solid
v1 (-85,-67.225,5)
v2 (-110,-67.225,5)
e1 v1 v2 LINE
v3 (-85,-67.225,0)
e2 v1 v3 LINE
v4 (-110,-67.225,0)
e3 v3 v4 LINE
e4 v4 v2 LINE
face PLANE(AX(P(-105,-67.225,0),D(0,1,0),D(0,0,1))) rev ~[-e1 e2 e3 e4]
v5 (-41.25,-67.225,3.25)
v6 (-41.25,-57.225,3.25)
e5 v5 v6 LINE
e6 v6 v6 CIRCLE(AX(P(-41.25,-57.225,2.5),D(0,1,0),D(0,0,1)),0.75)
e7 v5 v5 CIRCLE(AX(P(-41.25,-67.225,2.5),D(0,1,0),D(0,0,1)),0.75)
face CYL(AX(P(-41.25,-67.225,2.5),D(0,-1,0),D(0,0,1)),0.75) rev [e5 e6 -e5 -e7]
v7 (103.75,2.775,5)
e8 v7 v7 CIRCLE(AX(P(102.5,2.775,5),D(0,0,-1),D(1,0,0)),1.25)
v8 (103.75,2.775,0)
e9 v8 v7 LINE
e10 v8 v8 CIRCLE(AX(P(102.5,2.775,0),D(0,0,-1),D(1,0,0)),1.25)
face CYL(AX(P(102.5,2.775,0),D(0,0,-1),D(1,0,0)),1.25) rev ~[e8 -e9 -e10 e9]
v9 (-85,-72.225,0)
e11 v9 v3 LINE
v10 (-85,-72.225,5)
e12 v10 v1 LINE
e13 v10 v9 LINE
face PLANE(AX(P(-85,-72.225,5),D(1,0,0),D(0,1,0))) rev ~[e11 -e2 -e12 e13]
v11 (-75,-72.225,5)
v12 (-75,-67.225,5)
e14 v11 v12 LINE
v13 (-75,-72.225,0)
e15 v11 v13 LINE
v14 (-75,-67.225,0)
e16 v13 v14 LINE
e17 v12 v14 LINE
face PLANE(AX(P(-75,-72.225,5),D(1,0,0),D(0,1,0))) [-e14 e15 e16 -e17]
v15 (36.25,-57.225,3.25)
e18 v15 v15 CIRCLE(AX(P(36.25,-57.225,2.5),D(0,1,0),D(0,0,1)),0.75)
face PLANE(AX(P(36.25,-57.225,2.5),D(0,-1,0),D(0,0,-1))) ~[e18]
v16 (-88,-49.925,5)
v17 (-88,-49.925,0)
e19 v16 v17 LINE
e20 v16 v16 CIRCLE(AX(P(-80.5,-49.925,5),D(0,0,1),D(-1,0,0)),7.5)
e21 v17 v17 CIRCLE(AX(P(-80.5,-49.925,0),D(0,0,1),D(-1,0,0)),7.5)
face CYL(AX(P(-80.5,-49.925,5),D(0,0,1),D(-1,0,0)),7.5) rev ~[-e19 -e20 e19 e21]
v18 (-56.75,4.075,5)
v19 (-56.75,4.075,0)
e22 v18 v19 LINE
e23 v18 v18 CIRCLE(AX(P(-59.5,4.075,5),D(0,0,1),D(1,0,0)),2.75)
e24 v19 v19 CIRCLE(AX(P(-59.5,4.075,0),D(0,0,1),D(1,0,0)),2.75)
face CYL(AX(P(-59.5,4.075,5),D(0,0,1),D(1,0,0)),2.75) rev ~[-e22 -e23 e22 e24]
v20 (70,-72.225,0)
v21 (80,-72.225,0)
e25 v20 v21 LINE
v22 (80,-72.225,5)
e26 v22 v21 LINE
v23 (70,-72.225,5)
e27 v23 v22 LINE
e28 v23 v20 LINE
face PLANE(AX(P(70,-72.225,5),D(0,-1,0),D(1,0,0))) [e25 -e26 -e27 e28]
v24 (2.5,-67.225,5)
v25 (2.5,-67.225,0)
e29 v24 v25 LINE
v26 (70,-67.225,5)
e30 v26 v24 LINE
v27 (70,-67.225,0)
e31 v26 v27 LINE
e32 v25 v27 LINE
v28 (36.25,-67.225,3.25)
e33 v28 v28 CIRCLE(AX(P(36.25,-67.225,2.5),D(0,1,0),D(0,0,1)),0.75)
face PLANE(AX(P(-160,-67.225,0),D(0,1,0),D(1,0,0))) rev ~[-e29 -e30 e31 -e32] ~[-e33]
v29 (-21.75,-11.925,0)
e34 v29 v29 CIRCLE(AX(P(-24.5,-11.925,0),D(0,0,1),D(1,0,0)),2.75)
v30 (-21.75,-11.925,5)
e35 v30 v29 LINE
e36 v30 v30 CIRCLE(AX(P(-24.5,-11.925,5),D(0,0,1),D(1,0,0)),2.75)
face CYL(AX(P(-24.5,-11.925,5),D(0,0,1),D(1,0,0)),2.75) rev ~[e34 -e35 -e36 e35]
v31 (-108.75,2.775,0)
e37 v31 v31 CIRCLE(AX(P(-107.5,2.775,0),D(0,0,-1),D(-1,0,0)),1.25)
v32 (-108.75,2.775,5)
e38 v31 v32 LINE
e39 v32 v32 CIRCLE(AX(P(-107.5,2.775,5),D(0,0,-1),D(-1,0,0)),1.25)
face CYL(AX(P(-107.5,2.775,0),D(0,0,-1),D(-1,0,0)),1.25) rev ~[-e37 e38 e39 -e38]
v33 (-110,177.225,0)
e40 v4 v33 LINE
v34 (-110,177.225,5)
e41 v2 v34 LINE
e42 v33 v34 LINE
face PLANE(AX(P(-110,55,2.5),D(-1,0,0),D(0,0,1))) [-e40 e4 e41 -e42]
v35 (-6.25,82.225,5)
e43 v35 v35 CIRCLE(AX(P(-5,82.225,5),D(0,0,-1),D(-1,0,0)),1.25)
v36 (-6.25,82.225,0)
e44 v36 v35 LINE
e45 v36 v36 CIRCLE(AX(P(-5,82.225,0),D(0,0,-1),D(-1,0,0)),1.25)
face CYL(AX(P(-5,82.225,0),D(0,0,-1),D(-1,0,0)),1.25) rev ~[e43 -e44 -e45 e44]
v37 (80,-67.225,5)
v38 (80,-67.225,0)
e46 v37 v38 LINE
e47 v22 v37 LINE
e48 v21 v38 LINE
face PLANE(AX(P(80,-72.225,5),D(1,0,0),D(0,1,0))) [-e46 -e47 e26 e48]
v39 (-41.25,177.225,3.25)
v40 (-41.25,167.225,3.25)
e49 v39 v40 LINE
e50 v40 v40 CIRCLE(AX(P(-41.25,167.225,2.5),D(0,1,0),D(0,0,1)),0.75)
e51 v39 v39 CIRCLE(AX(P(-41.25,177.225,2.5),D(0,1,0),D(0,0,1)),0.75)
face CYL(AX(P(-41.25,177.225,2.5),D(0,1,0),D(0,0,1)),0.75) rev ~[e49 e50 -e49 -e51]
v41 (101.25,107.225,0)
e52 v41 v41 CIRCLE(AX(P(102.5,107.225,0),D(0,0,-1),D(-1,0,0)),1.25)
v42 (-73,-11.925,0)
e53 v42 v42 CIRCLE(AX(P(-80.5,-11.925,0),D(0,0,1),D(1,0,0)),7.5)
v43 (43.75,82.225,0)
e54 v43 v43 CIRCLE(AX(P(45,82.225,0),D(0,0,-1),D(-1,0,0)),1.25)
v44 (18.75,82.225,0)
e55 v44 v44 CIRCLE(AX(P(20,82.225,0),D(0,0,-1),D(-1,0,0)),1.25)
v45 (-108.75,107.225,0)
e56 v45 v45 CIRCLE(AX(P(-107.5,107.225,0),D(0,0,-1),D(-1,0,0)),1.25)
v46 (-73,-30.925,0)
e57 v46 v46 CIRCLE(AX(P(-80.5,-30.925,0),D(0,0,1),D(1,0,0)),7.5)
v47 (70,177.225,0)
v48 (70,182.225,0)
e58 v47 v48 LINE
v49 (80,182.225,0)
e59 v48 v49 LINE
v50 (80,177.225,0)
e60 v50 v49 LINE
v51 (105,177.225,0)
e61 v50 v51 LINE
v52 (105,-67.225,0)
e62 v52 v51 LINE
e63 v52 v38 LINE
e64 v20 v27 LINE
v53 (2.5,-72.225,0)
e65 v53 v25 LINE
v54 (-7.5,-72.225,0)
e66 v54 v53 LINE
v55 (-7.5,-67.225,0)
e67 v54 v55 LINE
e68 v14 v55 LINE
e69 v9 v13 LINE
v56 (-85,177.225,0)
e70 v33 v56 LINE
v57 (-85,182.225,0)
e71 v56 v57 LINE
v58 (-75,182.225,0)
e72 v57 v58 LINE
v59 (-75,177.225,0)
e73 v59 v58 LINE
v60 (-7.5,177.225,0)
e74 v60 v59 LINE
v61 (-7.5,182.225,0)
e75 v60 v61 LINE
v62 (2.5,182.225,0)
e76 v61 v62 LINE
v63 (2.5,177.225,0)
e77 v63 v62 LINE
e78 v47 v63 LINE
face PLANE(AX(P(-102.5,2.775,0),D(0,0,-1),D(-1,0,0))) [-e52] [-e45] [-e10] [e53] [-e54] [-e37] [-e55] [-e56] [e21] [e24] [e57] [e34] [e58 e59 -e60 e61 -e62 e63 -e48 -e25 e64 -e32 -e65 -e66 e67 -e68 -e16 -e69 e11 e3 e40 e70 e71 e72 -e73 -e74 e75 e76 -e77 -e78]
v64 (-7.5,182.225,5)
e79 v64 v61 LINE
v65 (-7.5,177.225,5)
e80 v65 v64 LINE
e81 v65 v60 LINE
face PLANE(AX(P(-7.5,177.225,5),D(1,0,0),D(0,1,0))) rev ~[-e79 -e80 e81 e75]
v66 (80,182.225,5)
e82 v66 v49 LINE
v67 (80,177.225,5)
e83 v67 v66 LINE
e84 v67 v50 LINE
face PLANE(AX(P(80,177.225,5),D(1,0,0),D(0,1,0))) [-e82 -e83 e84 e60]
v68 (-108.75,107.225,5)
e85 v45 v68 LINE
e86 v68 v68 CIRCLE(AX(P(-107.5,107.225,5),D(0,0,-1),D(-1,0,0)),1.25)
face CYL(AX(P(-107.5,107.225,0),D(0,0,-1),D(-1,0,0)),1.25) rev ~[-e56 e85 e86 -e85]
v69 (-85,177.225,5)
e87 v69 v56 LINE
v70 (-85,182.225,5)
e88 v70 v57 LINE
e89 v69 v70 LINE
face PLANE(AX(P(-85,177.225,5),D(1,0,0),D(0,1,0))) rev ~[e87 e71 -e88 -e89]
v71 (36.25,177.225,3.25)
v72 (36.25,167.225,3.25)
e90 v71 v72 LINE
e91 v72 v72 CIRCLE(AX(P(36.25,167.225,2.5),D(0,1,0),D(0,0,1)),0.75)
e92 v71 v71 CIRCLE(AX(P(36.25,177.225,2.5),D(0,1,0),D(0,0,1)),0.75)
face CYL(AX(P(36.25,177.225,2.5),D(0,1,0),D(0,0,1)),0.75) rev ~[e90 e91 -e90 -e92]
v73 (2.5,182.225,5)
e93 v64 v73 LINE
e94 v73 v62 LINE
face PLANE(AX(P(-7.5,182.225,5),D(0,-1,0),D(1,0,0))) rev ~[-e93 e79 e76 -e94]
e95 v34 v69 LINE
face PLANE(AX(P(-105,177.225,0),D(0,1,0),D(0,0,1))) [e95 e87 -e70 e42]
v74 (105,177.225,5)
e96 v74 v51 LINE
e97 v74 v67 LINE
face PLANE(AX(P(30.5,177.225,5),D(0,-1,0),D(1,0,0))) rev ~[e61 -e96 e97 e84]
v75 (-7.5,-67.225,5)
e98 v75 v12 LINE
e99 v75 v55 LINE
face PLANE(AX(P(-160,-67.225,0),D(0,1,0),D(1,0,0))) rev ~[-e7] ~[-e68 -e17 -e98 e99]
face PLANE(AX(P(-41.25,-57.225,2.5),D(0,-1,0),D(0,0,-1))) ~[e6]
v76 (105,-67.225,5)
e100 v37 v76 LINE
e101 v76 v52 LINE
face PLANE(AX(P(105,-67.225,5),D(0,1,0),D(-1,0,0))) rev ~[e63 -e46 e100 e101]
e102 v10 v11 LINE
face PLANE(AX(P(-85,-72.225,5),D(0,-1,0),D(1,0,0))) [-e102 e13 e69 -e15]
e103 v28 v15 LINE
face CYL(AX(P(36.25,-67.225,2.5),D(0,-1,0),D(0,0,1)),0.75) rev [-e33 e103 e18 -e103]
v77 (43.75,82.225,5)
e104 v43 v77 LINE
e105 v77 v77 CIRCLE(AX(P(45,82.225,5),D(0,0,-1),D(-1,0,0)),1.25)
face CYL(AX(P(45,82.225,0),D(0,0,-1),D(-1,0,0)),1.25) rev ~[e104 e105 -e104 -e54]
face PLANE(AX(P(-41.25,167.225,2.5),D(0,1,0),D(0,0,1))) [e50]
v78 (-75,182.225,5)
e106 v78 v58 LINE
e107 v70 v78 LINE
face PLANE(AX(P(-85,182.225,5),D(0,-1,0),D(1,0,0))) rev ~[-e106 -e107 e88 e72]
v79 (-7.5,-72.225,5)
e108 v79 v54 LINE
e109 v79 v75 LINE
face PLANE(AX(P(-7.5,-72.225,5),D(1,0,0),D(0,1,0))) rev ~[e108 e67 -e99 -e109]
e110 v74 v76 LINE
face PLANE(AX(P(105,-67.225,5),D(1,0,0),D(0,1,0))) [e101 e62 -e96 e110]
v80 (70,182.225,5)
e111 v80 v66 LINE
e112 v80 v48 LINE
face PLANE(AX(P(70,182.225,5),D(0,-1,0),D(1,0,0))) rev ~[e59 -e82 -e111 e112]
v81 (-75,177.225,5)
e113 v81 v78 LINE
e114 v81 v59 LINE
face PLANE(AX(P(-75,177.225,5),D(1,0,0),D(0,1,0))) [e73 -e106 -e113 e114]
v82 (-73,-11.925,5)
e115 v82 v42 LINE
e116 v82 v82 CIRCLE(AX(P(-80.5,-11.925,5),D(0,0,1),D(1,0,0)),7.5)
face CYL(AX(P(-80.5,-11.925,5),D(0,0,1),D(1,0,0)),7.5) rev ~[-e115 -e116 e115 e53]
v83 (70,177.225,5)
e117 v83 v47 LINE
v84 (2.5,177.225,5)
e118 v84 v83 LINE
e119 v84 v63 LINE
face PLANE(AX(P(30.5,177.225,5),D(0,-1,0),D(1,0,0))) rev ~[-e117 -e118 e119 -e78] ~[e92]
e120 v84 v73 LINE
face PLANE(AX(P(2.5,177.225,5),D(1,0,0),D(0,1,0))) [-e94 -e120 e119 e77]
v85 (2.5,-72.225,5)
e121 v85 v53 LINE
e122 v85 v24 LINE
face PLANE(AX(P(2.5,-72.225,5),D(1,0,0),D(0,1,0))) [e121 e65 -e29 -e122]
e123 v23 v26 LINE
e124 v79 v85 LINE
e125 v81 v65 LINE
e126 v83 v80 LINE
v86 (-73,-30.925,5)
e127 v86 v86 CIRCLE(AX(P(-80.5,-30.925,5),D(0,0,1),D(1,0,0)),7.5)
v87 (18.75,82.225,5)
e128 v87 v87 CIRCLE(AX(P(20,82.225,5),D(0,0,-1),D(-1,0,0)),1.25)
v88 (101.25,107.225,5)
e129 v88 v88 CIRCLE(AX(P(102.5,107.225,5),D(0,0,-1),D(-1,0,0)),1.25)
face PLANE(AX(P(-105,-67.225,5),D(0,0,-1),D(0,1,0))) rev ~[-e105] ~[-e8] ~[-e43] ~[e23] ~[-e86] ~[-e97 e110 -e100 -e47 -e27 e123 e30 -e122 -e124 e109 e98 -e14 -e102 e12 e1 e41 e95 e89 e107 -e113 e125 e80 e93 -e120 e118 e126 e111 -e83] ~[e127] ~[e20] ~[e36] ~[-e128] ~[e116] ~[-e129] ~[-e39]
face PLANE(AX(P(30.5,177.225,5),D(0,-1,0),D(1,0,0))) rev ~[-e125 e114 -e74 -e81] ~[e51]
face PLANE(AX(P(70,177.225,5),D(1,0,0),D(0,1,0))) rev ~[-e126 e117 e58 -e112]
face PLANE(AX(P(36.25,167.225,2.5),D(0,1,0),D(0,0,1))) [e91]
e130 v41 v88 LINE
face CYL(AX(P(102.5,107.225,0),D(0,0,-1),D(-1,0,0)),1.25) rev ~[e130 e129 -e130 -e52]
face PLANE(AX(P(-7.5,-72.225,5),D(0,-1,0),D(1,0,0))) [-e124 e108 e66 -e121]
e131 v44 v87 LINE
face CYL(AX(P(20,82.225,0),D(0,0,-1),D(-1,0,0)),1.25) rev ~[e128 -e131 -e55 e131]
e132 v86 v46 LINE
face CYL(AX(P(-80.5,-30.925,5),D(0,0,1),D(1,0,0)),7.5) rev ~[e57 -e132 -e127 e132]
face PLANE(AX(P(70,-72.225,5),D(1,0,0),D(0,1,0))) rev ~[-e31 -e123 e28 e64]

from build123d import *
from build123d.topology import SkipClean

# Parameters (mm, degrees)
SKIZZE1_W                       = 5
SKIZZE1_H                       = 5
SKIZZE1_W_2                     = 15
AUFSATZ_LINEAR_AUSTRAGEN1_DEPTH = 5
SKIZZE2_R                       = 2.75
SCHNITT_LINEAR_AUSTRAGEN1_DEPTH = 128.539996178
SCHNITT_LINEAR_AUSTRAGEN2_DEPTH = 128.539996178
SKIZZE4_R                       = 7.5
SCHNITT_LINEAR_AUSTRAGEN3_DEPTH = 128.539996178
SKIZZE5_R                       = 0.75
SKIZZE5_R_2                     = 6
SENSORS_DEPTH                   = 128.539996178
AUFSATZ_LINEAR_AUSTRAGEN2_DEPTH = 5
SKIZZE7_R                       = 1.25
SCHNITT_LINEAR_AUSTRAGEN5_DEPTH = 239.81729549
SKETCH1_W                       = 69.5
SKETCH1_H                       = 110
BOSS_EXTRUDE1_DEPTH             = 5
SKIZZE9_R                       = 0.75
SKIZZE9_R_2                     = 6
DISCRETECHANNEL_DEPTH           = 239.81729549
SKIZZE10_R                      = 0.75
SKIZZE10_R_2                    = 6
CONTCHANNEL_DEPTH               = 239.81729549
BOSS_EXTRUDE2_DEPTH             = 5
SKIZZE8_R                       = 0.75
SKIZZE8_R_2                     = 7.5
STEPDOWNCONVERTER_DEPTH         = 239.81729549
SKETCH3_R                       = 0.75
SKETCH3_R_2                     = 5
BBB_DEPTH                       = 5
BOSS_EXTRUDE3_DEPTH             = 5
SKETCH5_W                       = 55
SKETCH5_H                       = 244.45
CUT_EXTRUDE2_DEPTH              = 5
SKETCH6_R                       = 5
CUT_EXTRUDE3_DEPTH              = 5
SKETCH7_W                       = 5
SKETCH7_H                       = 10
BOSS_EXTRUDE4_DEPTH             = 5
SKETCH8_W                       = 10
SKETCH8_H                       = 5
BOSS_EXTRUDE5_DEPTH             = 5
BOSS_EXTRUDE6_START             = -5
SKETCH9_W                       = 210
SKETCH9_H                       = 244.45
SKETCH9_R                       = 2.75
SKETCH9_R_2                     = 7.5
BOSS_EXTRUDE6_DEPTH             = 5
SKETCH10_R                      = 1.25
CUT_EXTRUDE4_DEPTH              = 5
SKETCH11_R                      = 1.25
CUT_EXTRUDE5_DEPTH              = 211.370983325
SKETCH12_R                      = 0.75
CUT_EXTRUDE6_DEPTH              = 10
SKETCH13_W                      = 5
SKETCH13_H                      = 244.45
BOSS_EXTRUDE7_DEPTH             = 5
SKETCH14_R                      = 1.25
CUT_EXTRUDE7_DEPTH              = 5
SKETCH15_R                      = 1.25
BOSS_EXTRUDE8_DEPTH             = 5


with BuildPart() as part:
    # Skizze1 → Aufsatz-Linear austragen1 (new body)
    with BuildSketch(Plane.XY):
        Polygon((55, 67.225), (75, 67.225), (75, 72.225), (85, 72.225), (85, 67.225), (100, 67.225), (100, 47.225), (105, 47.225), (105, 37.225), (100, 37.225), (100, -37.225), (105, -37.225), (105, -47.225), (100, -47.225), (100, -67.225), (-100, -67.225), (-100, -47.225), (-105, -47.225), (-105, -37.225), (-100, -37.225), (-100, 37.225), (-105, 37.225), (-105, 47.225), (-100, 47.225), (-100, 67.225), (-85, 67.225), (-85, 72.225), (-75, 72.225), (-75, 67.225), (45, 67.225), (45, 72.225), (55, 72.225), align=None)
        with Locations((13, -40.055)):
            Rectangle(SKIZZE1_W, SKIZZE1_H, mode=Mode.SUBTRACT)
        with Locations((53, -40.055)):
            Rectangle(SKIZZE1_W, SKIZZE1_H, mode=Mode.SUBTRACT)
        with Locations((33, -40.055)):
            Rectangle(SKIZZE1_W_2, SKIZZE1_H, mode=Mode.SUBTRACT)
    extrude(amount=AUFSATZ_LINEAR_AUSTRAGEN1_DEPTH)

    # Skizze2 → Schnitt-Linear austragen1 (cut, through all)
    with BuildSketch(Plane.XY.offset(5)):
        with Locations((-59.5, 4.075)):
            Circle(SKIZZE2_R)
        with Locations((-24.5, -11.925)):
            Circle(SKIZZE2_R)
    extrude(amount=-SCHNITT_LINEAR_AUSTRAGEN1_DEPTH, mode=Mode.SUBTRACT)

    # Skizze3 → Schnitt-Linear austragen2 (cut, through all)
    with BuildSketch(Plane.XY.offset(5)):
        with BuildLine():
            Line((25, -17.555), (41, -17.555))
            ThreePointArc((41, -17.555), (42.414213562, -18.140786438), (43, -19.555))
            Line((43, -19.555), (43, -35.555))
            ThreePointArc((43, -35.555), (42.414213562, -36.969213562), (41, -37.555))
            Line((41, -37.555), (37, -37.555))
            Line((37, -37.555), (29, -37.555))
            Line((29, -37.555), (25, -37.555))
            ThreePointArc((25, -37.555), (23.585786438, -36.969213562), (23, -35.555))
            Line((23, -35.555), (23, -19.555))
            ThreePointArc((23, -19.555), (23.585786438, -18.140786438), (25, -17.555))
        make_face()
        with BuildLine():
            Line((-66.5, 54.225), (-66.5, 35.225))
            ThreePointArc((-66.5, 35.225), (-67.378679656, 33.103679656), (-69.5, 32.225))
            Line((-69.5, 32.225), (-88.5, 32.225))
            ThreePointArc((-88.5, 32.225), (-90.621320344, 33.103679656), (-91.5, 35.225))
            Line((-91.5, 35.225), (-91.5, 54.225))
            ThreePointArc((-91.5, 54.225), (-90.621320344, 56.346320344), (-88.5, 57.225))
            Line((-88.5, 57.225), (-69.5, 57.225))
            ThreePointArc((-69.5, 57.225), (-67.378679656, 56.346320344), (-66.5, 54.225))
        make_face()
        with BuildLine():
            Line((4.5, 57.225), (-14.5, 57.225))
            ThreePointArc((-14.5, 57.225), (-16.621320344, 56.346320344), (-17.5, 54.225))
            Line((-17.5, 54.225), (-17.5, 35.225))
            ThreePointArc((-17.5, 35.225), (-16.621320344, 33.103679656), (-14.5, 32.225))
            Line((-14.5, 32.225), (4.5, 32.225))
            ThreePointArc((4.5, 32.225), (6.621320344, 33.103679656), (7.5, 35.225))
            Line((7.5, 35.225), (7.5, 54.225))
            ThreePointArc((7.5, 54.225), (6.621320344, 56.346320344), (4.5, 57.225))
        make_face()
    extrude(amount=-SCHNITT_LINEAR_AUSTRAGEN2_DEPTH, mode=Mode.SUBTRACT)

    # Skizze4 → Schnitt-Linear austragen3 (cut, through all)
    with BuildSketch(Plane.XY.offset(5)):
        with Locations((-80.5, -30.925)):
            Circle(SKIZZE4_R)
        with Locations((-80.5, -11.925)):
            Circle(SKIZZE4_R)
        with Locations(Location((-80.5, -49.925, 0), (0, 0, 180))):
            Circle(SKIZZE4_R)
    extrude(amount=-SCHNITT_LINEAR_AUSTRAGEN3_DEPTH, mode=Mode.SUBTRACT)

    # Skizze5 → Sensors (cut, through all)
    with BuildSketch(Plane.XY.offset(5)):
        with Locations((-8, -45.225)):
            Circle(SKIZZE5_R)
        with Locations((-8, -3.225)):
            Circle(SKIZZE5_R)
        with Locations((83, -12.225)):
            Circle(SKIZZE5_R)
        with Locations((-15, -56.225)):
            Circle(SKIZZE5_R_2)
        with Locations((0, -56.225)):
            Circle(SKIZZE5_R_2)
        with Locations((15, -56.225)):
            Circle(SKIZZE5_R_2)
        with Locations((30, -56.225)):
            Circle(SKIZZE5_R_2)
        with Locations((45, -56.225)):
            Circle(SKIZZE5_R_2)
        with Locations((60, -56.225)):
            Circle(SKIZZE5_R_2)
        with Locations((75, -56.225)):
            Circle(SKIZZE5_R_2)
        with Locations((90, -56.225)):
            Circle(SKIZZE5_R_2)
    extrude(amount=-SENSORS_DEPTH, mode=Mode.SUBTRACT)

    # Skizze6 → Aufsatz-Linear austragen2 (add)
    with BuildSketch(Plane(origin=(0, 0, 0), x_dir=(-1, 0, 0), z_dir=(0, 0, -1))):
        Polygon((160, 47.225), (160, 37.225), (160, -37.225), (160, -47.225), (160, -67.225), (100, -67.225), (100, 67.225), (-30.5, 67.225), (-30.5, 177.225), (160, 177.225), (160, 67.225), align=None)
    extrude(amount=-AUFSATZ_LINEAR_AUSTRAGEN2_DEPTH)

    # Skizze7 → Schnitt-Linear austragen5 (cut, through all)
    with BuildSketch(Plane(origin=(0, 0, 0), x_dir=(-1, 0, 0), z_dir=(0, 0, -1))):
        with Locations((71.5, 32.775)):
            Circle(SKIZZE7_R)
        with Locations((96.5, 32.775)):
            Circle(SKIZZE7_R)
        with Locations((46.5, 32.775)):
            Circle(SKIZZE7_R)
    extrude(amount=-SCHNITT_LINEAR_AUSTRAGEN5_DEPTH, mode=Mode.SUBTRACT)

    # Sketch1 → Boss-Extrude1 (add)
    with BuildSketch(Plane.XY.offset(5)):
        with Locations((65.25, 122.225)):
            Rectangle(SKETCH1_W, SKETCH1_H)
    extrude(amount=-BOSS_EXTRUDE1_DEPTH)

    # Skizze9 → DiscreteChannel (cut, through all)
    with BuildSketch(Plane.XY.offset(5)):
        with Locations((8, 71.515)):
            Circle(SKIZZE9_R)
        with Locations(Location((69, 71.515, 0), (0, 0, 180))):
            Circle(SKIZZE9_R)
        with Locations(Location((8, 10.515, 0), (0, 0, 180))):
            Circle(SKIZZE9_R)
        with Locations((69, 10.515)):
            Circle(SKIZZE9_R)
        with Locations((-2, 5.015)):
            Circle(SKIZZE9_R_2)
        with Locations((-2, 29.015)):
            Circle(SKIZZE9_R_2)
        with Locations((-2, 53.015)):
            Circle(SKIZZE9_R_2)
        with Locations((-2, 77.015)):
            Circle(SKIZZE9_R_2)
    extrude(amount=-DISCRETECHANNEL_DEPTH, mode=Mode.SUBTRACT)

    # Skizze10 → ContChannel (cut, through all)
    with BuildSketch(Plane.XY.offset(5)):
        with Locations((-4, 136.225)):
            Circle(SKIZZE10_R)
        with Locations(Location((-4, 94.225, 0), (0, 0, 180))):
            Circle(SKIZZE10_R)
        with Locations(Location((-96, 136.225, 0), (0, 0, 180))):
            Circle(SKIZZE10_R)
        with Locations((-96, 94.225)):
            Circle(SKIZZE10_R)
        with Locations((-72.499999267, 166.225)):
            Circle(SKIZZE10_R_2)
        with Locations((-57.499999267, 166.225)):
            Circle(SKIZZE10_R_2)
        with Locations((-42.499999267, 166.225)):
            Circle(SKIZZE10_R_2)
        with Locations((-27.499999267, 166.225)):
            Circle(SKIZZE10_R_2)
        with Locations((-27.499999267, 151.225)):
            Circle(SKIZZE10_R_2)
        with Locations((-42.499999267, 151.225)):
            Circle(SKIZZE10_R_2)
        with Locations((-57.499999267, 151.225)):
            Circle(SKIZZE10_R_2)
        with Locations((-72.499999267, 151.225)):
            Circle(SKIZZE10_R_2)
    extrude(amount=-CONTCHANNEL_DEPTH, mode=Mode.SUBTRACT)

    # Sketch2 → Boss-Extrude2 (add)
    with SkipClean():  # the faces are left unmerged after this step: merging them gives an invalid solid
        with BuildSketch(Plane.XY.offset(5)):
            with BuildLine():
                Line((-14.5, 32.225), (-7.069112348, 32.225))
                ThreePointArc((-7.069112348, 32.225), (-2, 35.015), (3.069112348, 32.225))
                Line((3.069112348, 32.225), (4.5, 32.225))
                ThreePointArc((4.5, 32.225), (6.621320344, 33.103679656), (7.5, 35.225))
                Line((7.5, 35.225), (7.5, 54.225))
                ThreePointArc((7.5, 54.225), (6.621320344, 56.346320344), (4.5, 57.225))
                Line((4.5, 57.225), (2.275032164, 57.225))
                ThreePointArc((2.275032164, 57.225), (-2, 47.015), (-6.275032164, 57.225))
                Line((-6.275032164, 57.225), (-14.5, 57.225))
                ThreePointArc((-14.5, 57.225), (-16.621320344, 56.346320344), (-17.5, 54.225))
                Line((-17.5, 54.225), (-17.5, 35.225))
                ThreePointArc((-17.5, 35.225), (-16.621320344, 33.103679656), (-14.5, 32.225))
            make_face()
        extrude(amount=-BOSS_EXTRUDE2_DEPTH)

    # Skizze8 → StepDownConverter (cut, through all)
    with SkipClean():  # the faces are left unmerged after this step: merging them gives an invalid solid
        with BuildSketch(Plane.XY.offset(5)):
            with Locations((62.5, 153.225)):
                Circle(SKIZZE8_R)
            with Locations(Location((93.5, 153.225, 0), (0, 0, 180))):
                Circle(SKIZZE8_R)
            with Locations(Location((62.5, 100.225, 0), (0, 0, 180))):
                Circle(SKIZZE8_R)
            with Locations((93.5, 100.225)):
                Circle(SKIZZE8_R)
            with Locations((78, 86.225)):
                Circle(SKIZZE8_R_2)
            with Locations(Location((78, 167.225, 0), (0, 0, 180))):
                Circle(SKIZZE8_R_2)
        extrude(amount=-STEPDOWNCONVERTER_DEPTH, mode=Mode.SUBTRACT)

    # Sketch3 → BBB (cut)
    with SkipClean():  # the faces are left unmerged after this step: merging them gives an invalid solid
        with BuildSketch(Plane.XY.offset(5)):
            with Locations((21.85, 147.68)):
                Circle(SKETCH3_R)
            with Locations((87.89, 102.59)):
                Circle(SKETCH3_R)
            with Locations(Location((87.89, 150.86, 0), (0, 0, 180))):
                Circle(SKETCH3_R)
            with Locations(Location((21.85, 105.77, 0), (0, 0, 180))):
                Circle(SKETCH3_R)
            with Locations((13, 167.225)):
                Circle(SKETCH3_R_2)
            with Locations((28, 167.225)):
                Circle(SKETCH3_R_2)
            with Locations((43, 167.225)):
                Circle(SKETCH3_R_2)
            with Locations((58, 167.225)):
                Circle(SKETCH3_R_2)
            with Locations(Location((13, 86.225, 0), (0, 0, 180))):
                Circle(SKETCH3_R_2)
        extrude(amount=-BBB_DEPTH, mode=Mode.SUBTRACT)

    # Sketch4 → Boss-Extrude3 (add)
    with SkipClean():  # the faces are left unmerged after this step: merging them gives an invalid solid
        with BuildSketch(Plane.XY.offset(5)):
            with BuildLine():
                Line((-88.5, 32.225), (-72.622497216, 32.225))
                ThreePointArc((-72.622497216, 32.225), (-71.5, 34.025), (-70.377502784, 32.225))
                Line((-70.377502784, 32.225), (-69.5, 32.225))
                ThreePointArc((-69.5, 32.225), (-67.378679656, 33.103679656), (-66.5, 35.225))
                Line((-66.5, 35.225), (-66.5, 54.225))
                ThreePointArc((-66.5, 54.225), (-67.378679656, 56.346320344), (-69.5, 57.225))
                Line((-69.5, 57.225), (-88.5, 57.225))
                ThreePointArc((-88.5, 57.225), (-90.621320344, 56.346320344), (-91.5, 54.225))
                Line((-91.5, 54.225), (-91.5, 35.225))
                ThreePointArc((-91.5, 35.225), (-90.621320344, 33.103679656), (-88.5, 32.225))
            make_face()
        extrude(amount=-BOSS_EXTRUDE3_DEPTH)

    # Sketch5 → Cut-Extrude2 (cut)
    with SkipClean():  # the faces are left unmerged after this step: merging them gives an invalid solid
        with BuildSketch(Plane.XY.offset(5)):
            with Locations((-132.5, 55)):
                Rectangle(SKETCH5_W, SKETCH5_H)
        extrude(amount=-CUT_EXTRUDE2_DEPTH, mode=Mode.SUBTRACT)

    # Sketch6 → Cut-Extrude3 (cut)
    with SkipClean():  # the faces are left unmerged after this step: merging them gives an invalid solid
        with BuildSketch(Plane.XY.offset(5)):
            with Locations((-95, 82.775)):
                Circle(SKETCH6_R)
            with Locations((-80, 82.775)):
                Circle(SKETCH6_R)
            with Locations((-95, -32.225)):
                Circle(SKETCH6_R)
            with Locations((-65, 82.775)):
                Circle(SKETCH6_R)
        extrude(amount=-CUT_EXTRUDE3_DEPTH, mode=Mode.SUBTRACT)

    # Sketch7 → Boss-Extrude4 (add)
    with SkipClean():  # the faces are left unmerged after this step: merging them gives an invalid solid
        with BuildSketch(Plane.XY.offset(5)):
            with Locations((102.5, 152.225)):
                Rectangle(SKETCH7_W, SKETCH7_H)
        extrude(amount=-BOSS_EXTRUDE4_DEPTH)

    # Sketch8 → Boss-Extrude5 (add)
    with SkipClean():  # the faces are left unmerged after this step: merging them gives an invalid solid
        with BuildSketch(Plane.XY.offset(5)):
            with Locations((-80, -69.725)):
                Rectangle(SKETCH8_W, SKETCH8_H)
            with Locations((-2.5, -69.725)):
                Rectangle(SKETCH8_W, SKETCH8_H)
            with Locations((75, -69.725)):
                Rectangle(SKETCH8_W, SKETCH8_H)
            with Locations((75, 179.725)):
                Rectangle(SKETCH8_W, SKETCH8_H)
            with Locations((-2.5, 179.725)):
                Rectangle(SKETCH8_W, SKETCH8_H)
            with Locations((-80, 179.725)):
                Rectangle(SKETCH8_W, SKETCH8_H)
        extrude(amount=-BOSS_EXTRUDE5_DEPTH)

    # Sketch9 → Boss-Extrude6 (add)
    with BuildSketch(Plane(origin=(0, 0, 0), x_dir=(-1, 0, 0), z_dir=(0, 0, -1)).offset(BOSS_EXTRUDE6_START)):
        with Locations((0, 55)):
            Rectangle(SKETCH9_W, SKETCH9_H)
        with Locations(Location((59.5, 4.075, 0), (0, 0, 180))):
            Circle(SKETCH9_R, mode=Mode.SUBTRACT)
        with Locations(Location((24.5, -11.925, 0), (0, 0, 180))):
            Circle(SKETCH9_R, mode=Mode.SUBTRACT)
        with Locations((80.5, -49.925)):
            Circle(SKETCH9_R_2, mode=Mode.SUBTRACT)
        with Locations(Location((80.5, -30.925, 0), (0, 0, 180))):
            Circle(SKETCH9_R_2, mode=Mode.SUBTRACT)
        with Locations(Location((80.5, -11.925, 0), (0, 0, 180))):
            Circle(SKETCH9_R_2, mode=Mode.SUBTRACT)
    extrude(amount=BOSS_EXTRUDE6_DEPTH)

    # Sketch10 → Cut-Extrude4 (cut)
    with BuildSketch(Plane(origin=(0, 0, 0), x_dir=(-1, 0, 0), z_dir=(0, 0, -1))):
        with Locations((-45, 82.225)):
            Circle(SKETCH10_R)
        with Locations((-20, 82.225)):
            Circle(SKETCH10_R)
        with Locations((5, 82.225)):
            Circle(SKETCH10_R)
    extrude(amount=-CUT_EXTRUDE4_DEPTH, mode=Mode.SUBTRACT)

    # Sketch11 → Cut-Extrude5 (cut, through all)
    with BuildSketch(Plane(origin=(0, 0, 0), x_dir=(-1, 0, 0), z_dir=(0, 0, -1))):
        with Locations((-102.5, 107.225)):
            Circle(SKETCH11_R)
        with Locations(Location((-102.5, 2.775, 0), (0, 0, 180))):
            Circle(SKETCH11_R)
        with Locations((102.5, 2.775)):
            Circle(SKETCH11_R)
        with Locations(Location((102.5, 107.225, 0), (0, 0, 180))):
            Circle(SKETCH11_R)
    extrude(amount=-CUT_EXTRUDE5_DEPTH, mode=Mode.SUBTRACT)

    # Sketch12 → Cut-Extrude6 (cut)
    with BuildSketch(Plane(origin=(0, 177.225, 0), x_dir=(1, 0, 0), z_dir=(0, 1, 0))):
        with Locations(Location((-41.25, -2.5, 0), (0, 0, 270))):
            Circle(SKETCH12_R)
        with Locations(Location((36.25, -2.5, 0), (0, 0, 270))):
            Circle(SKETCH12_R)
    cut_extrude6 = extrude(amount=-CUT_EXTRUDE6_DEPTH, mode=Mode.SUBTRACT)

    # Mirror1: Cut-Extrude6 across plane
    add(cut_extrude6.mirror(Plane.ZX.offset(55)), mode=Mode.SUBTRACT)

    # Sketch13 → Boss-Extrude7 (add)
    with BuildSketch(Plane.ZY.offset(105)):
        with Locations((2.5, 55)):
            Rectangle(SKETCH13_W, SKETCH13_H)
    extrude(amount=BOSS_EXTRUDE7_DEPTH)

    # Sketch14 → Cut-Extrude7 (cut)
    with BuildSketch(Plane(origin=(0, 0, 0), x_dir=(-1, 0, 0), z_dir=(0, 0, -1))):
        with Locations((102.5, 2.775)):
            Circle(SKETCH14_R)
        with Locations(Location((102.5, 107.225, 0), (0, 0, 180))):
            Circle(SKETCH14_R)
        with Locations((107.5, 2.775)):
            Circle(SKETCH14_R)
        with Locations((107.5, 107.225)):
            Circle(SKETCH14_R)
    extrude(amount=-CUT_EXTRUDE7_DEPTH, mode=Mode.SUBTRACT)

    # Sketch15 → Boss-Extrude8 (add)
    with BuildSketch(Plane(origin=(0, 0, 0), x_dir=(-1, 0, 0), z_dir=(0, 0, -1))):
        with Locations((102.5, 2.775)):
            Circle(SKETCH15_R)
        with Locations((102.5, 107.225)):
            Circle(SKETCH15_R)
    extrude(amount=-BOSS_EXTRUDE8_DEPTH)


solid = part.part
